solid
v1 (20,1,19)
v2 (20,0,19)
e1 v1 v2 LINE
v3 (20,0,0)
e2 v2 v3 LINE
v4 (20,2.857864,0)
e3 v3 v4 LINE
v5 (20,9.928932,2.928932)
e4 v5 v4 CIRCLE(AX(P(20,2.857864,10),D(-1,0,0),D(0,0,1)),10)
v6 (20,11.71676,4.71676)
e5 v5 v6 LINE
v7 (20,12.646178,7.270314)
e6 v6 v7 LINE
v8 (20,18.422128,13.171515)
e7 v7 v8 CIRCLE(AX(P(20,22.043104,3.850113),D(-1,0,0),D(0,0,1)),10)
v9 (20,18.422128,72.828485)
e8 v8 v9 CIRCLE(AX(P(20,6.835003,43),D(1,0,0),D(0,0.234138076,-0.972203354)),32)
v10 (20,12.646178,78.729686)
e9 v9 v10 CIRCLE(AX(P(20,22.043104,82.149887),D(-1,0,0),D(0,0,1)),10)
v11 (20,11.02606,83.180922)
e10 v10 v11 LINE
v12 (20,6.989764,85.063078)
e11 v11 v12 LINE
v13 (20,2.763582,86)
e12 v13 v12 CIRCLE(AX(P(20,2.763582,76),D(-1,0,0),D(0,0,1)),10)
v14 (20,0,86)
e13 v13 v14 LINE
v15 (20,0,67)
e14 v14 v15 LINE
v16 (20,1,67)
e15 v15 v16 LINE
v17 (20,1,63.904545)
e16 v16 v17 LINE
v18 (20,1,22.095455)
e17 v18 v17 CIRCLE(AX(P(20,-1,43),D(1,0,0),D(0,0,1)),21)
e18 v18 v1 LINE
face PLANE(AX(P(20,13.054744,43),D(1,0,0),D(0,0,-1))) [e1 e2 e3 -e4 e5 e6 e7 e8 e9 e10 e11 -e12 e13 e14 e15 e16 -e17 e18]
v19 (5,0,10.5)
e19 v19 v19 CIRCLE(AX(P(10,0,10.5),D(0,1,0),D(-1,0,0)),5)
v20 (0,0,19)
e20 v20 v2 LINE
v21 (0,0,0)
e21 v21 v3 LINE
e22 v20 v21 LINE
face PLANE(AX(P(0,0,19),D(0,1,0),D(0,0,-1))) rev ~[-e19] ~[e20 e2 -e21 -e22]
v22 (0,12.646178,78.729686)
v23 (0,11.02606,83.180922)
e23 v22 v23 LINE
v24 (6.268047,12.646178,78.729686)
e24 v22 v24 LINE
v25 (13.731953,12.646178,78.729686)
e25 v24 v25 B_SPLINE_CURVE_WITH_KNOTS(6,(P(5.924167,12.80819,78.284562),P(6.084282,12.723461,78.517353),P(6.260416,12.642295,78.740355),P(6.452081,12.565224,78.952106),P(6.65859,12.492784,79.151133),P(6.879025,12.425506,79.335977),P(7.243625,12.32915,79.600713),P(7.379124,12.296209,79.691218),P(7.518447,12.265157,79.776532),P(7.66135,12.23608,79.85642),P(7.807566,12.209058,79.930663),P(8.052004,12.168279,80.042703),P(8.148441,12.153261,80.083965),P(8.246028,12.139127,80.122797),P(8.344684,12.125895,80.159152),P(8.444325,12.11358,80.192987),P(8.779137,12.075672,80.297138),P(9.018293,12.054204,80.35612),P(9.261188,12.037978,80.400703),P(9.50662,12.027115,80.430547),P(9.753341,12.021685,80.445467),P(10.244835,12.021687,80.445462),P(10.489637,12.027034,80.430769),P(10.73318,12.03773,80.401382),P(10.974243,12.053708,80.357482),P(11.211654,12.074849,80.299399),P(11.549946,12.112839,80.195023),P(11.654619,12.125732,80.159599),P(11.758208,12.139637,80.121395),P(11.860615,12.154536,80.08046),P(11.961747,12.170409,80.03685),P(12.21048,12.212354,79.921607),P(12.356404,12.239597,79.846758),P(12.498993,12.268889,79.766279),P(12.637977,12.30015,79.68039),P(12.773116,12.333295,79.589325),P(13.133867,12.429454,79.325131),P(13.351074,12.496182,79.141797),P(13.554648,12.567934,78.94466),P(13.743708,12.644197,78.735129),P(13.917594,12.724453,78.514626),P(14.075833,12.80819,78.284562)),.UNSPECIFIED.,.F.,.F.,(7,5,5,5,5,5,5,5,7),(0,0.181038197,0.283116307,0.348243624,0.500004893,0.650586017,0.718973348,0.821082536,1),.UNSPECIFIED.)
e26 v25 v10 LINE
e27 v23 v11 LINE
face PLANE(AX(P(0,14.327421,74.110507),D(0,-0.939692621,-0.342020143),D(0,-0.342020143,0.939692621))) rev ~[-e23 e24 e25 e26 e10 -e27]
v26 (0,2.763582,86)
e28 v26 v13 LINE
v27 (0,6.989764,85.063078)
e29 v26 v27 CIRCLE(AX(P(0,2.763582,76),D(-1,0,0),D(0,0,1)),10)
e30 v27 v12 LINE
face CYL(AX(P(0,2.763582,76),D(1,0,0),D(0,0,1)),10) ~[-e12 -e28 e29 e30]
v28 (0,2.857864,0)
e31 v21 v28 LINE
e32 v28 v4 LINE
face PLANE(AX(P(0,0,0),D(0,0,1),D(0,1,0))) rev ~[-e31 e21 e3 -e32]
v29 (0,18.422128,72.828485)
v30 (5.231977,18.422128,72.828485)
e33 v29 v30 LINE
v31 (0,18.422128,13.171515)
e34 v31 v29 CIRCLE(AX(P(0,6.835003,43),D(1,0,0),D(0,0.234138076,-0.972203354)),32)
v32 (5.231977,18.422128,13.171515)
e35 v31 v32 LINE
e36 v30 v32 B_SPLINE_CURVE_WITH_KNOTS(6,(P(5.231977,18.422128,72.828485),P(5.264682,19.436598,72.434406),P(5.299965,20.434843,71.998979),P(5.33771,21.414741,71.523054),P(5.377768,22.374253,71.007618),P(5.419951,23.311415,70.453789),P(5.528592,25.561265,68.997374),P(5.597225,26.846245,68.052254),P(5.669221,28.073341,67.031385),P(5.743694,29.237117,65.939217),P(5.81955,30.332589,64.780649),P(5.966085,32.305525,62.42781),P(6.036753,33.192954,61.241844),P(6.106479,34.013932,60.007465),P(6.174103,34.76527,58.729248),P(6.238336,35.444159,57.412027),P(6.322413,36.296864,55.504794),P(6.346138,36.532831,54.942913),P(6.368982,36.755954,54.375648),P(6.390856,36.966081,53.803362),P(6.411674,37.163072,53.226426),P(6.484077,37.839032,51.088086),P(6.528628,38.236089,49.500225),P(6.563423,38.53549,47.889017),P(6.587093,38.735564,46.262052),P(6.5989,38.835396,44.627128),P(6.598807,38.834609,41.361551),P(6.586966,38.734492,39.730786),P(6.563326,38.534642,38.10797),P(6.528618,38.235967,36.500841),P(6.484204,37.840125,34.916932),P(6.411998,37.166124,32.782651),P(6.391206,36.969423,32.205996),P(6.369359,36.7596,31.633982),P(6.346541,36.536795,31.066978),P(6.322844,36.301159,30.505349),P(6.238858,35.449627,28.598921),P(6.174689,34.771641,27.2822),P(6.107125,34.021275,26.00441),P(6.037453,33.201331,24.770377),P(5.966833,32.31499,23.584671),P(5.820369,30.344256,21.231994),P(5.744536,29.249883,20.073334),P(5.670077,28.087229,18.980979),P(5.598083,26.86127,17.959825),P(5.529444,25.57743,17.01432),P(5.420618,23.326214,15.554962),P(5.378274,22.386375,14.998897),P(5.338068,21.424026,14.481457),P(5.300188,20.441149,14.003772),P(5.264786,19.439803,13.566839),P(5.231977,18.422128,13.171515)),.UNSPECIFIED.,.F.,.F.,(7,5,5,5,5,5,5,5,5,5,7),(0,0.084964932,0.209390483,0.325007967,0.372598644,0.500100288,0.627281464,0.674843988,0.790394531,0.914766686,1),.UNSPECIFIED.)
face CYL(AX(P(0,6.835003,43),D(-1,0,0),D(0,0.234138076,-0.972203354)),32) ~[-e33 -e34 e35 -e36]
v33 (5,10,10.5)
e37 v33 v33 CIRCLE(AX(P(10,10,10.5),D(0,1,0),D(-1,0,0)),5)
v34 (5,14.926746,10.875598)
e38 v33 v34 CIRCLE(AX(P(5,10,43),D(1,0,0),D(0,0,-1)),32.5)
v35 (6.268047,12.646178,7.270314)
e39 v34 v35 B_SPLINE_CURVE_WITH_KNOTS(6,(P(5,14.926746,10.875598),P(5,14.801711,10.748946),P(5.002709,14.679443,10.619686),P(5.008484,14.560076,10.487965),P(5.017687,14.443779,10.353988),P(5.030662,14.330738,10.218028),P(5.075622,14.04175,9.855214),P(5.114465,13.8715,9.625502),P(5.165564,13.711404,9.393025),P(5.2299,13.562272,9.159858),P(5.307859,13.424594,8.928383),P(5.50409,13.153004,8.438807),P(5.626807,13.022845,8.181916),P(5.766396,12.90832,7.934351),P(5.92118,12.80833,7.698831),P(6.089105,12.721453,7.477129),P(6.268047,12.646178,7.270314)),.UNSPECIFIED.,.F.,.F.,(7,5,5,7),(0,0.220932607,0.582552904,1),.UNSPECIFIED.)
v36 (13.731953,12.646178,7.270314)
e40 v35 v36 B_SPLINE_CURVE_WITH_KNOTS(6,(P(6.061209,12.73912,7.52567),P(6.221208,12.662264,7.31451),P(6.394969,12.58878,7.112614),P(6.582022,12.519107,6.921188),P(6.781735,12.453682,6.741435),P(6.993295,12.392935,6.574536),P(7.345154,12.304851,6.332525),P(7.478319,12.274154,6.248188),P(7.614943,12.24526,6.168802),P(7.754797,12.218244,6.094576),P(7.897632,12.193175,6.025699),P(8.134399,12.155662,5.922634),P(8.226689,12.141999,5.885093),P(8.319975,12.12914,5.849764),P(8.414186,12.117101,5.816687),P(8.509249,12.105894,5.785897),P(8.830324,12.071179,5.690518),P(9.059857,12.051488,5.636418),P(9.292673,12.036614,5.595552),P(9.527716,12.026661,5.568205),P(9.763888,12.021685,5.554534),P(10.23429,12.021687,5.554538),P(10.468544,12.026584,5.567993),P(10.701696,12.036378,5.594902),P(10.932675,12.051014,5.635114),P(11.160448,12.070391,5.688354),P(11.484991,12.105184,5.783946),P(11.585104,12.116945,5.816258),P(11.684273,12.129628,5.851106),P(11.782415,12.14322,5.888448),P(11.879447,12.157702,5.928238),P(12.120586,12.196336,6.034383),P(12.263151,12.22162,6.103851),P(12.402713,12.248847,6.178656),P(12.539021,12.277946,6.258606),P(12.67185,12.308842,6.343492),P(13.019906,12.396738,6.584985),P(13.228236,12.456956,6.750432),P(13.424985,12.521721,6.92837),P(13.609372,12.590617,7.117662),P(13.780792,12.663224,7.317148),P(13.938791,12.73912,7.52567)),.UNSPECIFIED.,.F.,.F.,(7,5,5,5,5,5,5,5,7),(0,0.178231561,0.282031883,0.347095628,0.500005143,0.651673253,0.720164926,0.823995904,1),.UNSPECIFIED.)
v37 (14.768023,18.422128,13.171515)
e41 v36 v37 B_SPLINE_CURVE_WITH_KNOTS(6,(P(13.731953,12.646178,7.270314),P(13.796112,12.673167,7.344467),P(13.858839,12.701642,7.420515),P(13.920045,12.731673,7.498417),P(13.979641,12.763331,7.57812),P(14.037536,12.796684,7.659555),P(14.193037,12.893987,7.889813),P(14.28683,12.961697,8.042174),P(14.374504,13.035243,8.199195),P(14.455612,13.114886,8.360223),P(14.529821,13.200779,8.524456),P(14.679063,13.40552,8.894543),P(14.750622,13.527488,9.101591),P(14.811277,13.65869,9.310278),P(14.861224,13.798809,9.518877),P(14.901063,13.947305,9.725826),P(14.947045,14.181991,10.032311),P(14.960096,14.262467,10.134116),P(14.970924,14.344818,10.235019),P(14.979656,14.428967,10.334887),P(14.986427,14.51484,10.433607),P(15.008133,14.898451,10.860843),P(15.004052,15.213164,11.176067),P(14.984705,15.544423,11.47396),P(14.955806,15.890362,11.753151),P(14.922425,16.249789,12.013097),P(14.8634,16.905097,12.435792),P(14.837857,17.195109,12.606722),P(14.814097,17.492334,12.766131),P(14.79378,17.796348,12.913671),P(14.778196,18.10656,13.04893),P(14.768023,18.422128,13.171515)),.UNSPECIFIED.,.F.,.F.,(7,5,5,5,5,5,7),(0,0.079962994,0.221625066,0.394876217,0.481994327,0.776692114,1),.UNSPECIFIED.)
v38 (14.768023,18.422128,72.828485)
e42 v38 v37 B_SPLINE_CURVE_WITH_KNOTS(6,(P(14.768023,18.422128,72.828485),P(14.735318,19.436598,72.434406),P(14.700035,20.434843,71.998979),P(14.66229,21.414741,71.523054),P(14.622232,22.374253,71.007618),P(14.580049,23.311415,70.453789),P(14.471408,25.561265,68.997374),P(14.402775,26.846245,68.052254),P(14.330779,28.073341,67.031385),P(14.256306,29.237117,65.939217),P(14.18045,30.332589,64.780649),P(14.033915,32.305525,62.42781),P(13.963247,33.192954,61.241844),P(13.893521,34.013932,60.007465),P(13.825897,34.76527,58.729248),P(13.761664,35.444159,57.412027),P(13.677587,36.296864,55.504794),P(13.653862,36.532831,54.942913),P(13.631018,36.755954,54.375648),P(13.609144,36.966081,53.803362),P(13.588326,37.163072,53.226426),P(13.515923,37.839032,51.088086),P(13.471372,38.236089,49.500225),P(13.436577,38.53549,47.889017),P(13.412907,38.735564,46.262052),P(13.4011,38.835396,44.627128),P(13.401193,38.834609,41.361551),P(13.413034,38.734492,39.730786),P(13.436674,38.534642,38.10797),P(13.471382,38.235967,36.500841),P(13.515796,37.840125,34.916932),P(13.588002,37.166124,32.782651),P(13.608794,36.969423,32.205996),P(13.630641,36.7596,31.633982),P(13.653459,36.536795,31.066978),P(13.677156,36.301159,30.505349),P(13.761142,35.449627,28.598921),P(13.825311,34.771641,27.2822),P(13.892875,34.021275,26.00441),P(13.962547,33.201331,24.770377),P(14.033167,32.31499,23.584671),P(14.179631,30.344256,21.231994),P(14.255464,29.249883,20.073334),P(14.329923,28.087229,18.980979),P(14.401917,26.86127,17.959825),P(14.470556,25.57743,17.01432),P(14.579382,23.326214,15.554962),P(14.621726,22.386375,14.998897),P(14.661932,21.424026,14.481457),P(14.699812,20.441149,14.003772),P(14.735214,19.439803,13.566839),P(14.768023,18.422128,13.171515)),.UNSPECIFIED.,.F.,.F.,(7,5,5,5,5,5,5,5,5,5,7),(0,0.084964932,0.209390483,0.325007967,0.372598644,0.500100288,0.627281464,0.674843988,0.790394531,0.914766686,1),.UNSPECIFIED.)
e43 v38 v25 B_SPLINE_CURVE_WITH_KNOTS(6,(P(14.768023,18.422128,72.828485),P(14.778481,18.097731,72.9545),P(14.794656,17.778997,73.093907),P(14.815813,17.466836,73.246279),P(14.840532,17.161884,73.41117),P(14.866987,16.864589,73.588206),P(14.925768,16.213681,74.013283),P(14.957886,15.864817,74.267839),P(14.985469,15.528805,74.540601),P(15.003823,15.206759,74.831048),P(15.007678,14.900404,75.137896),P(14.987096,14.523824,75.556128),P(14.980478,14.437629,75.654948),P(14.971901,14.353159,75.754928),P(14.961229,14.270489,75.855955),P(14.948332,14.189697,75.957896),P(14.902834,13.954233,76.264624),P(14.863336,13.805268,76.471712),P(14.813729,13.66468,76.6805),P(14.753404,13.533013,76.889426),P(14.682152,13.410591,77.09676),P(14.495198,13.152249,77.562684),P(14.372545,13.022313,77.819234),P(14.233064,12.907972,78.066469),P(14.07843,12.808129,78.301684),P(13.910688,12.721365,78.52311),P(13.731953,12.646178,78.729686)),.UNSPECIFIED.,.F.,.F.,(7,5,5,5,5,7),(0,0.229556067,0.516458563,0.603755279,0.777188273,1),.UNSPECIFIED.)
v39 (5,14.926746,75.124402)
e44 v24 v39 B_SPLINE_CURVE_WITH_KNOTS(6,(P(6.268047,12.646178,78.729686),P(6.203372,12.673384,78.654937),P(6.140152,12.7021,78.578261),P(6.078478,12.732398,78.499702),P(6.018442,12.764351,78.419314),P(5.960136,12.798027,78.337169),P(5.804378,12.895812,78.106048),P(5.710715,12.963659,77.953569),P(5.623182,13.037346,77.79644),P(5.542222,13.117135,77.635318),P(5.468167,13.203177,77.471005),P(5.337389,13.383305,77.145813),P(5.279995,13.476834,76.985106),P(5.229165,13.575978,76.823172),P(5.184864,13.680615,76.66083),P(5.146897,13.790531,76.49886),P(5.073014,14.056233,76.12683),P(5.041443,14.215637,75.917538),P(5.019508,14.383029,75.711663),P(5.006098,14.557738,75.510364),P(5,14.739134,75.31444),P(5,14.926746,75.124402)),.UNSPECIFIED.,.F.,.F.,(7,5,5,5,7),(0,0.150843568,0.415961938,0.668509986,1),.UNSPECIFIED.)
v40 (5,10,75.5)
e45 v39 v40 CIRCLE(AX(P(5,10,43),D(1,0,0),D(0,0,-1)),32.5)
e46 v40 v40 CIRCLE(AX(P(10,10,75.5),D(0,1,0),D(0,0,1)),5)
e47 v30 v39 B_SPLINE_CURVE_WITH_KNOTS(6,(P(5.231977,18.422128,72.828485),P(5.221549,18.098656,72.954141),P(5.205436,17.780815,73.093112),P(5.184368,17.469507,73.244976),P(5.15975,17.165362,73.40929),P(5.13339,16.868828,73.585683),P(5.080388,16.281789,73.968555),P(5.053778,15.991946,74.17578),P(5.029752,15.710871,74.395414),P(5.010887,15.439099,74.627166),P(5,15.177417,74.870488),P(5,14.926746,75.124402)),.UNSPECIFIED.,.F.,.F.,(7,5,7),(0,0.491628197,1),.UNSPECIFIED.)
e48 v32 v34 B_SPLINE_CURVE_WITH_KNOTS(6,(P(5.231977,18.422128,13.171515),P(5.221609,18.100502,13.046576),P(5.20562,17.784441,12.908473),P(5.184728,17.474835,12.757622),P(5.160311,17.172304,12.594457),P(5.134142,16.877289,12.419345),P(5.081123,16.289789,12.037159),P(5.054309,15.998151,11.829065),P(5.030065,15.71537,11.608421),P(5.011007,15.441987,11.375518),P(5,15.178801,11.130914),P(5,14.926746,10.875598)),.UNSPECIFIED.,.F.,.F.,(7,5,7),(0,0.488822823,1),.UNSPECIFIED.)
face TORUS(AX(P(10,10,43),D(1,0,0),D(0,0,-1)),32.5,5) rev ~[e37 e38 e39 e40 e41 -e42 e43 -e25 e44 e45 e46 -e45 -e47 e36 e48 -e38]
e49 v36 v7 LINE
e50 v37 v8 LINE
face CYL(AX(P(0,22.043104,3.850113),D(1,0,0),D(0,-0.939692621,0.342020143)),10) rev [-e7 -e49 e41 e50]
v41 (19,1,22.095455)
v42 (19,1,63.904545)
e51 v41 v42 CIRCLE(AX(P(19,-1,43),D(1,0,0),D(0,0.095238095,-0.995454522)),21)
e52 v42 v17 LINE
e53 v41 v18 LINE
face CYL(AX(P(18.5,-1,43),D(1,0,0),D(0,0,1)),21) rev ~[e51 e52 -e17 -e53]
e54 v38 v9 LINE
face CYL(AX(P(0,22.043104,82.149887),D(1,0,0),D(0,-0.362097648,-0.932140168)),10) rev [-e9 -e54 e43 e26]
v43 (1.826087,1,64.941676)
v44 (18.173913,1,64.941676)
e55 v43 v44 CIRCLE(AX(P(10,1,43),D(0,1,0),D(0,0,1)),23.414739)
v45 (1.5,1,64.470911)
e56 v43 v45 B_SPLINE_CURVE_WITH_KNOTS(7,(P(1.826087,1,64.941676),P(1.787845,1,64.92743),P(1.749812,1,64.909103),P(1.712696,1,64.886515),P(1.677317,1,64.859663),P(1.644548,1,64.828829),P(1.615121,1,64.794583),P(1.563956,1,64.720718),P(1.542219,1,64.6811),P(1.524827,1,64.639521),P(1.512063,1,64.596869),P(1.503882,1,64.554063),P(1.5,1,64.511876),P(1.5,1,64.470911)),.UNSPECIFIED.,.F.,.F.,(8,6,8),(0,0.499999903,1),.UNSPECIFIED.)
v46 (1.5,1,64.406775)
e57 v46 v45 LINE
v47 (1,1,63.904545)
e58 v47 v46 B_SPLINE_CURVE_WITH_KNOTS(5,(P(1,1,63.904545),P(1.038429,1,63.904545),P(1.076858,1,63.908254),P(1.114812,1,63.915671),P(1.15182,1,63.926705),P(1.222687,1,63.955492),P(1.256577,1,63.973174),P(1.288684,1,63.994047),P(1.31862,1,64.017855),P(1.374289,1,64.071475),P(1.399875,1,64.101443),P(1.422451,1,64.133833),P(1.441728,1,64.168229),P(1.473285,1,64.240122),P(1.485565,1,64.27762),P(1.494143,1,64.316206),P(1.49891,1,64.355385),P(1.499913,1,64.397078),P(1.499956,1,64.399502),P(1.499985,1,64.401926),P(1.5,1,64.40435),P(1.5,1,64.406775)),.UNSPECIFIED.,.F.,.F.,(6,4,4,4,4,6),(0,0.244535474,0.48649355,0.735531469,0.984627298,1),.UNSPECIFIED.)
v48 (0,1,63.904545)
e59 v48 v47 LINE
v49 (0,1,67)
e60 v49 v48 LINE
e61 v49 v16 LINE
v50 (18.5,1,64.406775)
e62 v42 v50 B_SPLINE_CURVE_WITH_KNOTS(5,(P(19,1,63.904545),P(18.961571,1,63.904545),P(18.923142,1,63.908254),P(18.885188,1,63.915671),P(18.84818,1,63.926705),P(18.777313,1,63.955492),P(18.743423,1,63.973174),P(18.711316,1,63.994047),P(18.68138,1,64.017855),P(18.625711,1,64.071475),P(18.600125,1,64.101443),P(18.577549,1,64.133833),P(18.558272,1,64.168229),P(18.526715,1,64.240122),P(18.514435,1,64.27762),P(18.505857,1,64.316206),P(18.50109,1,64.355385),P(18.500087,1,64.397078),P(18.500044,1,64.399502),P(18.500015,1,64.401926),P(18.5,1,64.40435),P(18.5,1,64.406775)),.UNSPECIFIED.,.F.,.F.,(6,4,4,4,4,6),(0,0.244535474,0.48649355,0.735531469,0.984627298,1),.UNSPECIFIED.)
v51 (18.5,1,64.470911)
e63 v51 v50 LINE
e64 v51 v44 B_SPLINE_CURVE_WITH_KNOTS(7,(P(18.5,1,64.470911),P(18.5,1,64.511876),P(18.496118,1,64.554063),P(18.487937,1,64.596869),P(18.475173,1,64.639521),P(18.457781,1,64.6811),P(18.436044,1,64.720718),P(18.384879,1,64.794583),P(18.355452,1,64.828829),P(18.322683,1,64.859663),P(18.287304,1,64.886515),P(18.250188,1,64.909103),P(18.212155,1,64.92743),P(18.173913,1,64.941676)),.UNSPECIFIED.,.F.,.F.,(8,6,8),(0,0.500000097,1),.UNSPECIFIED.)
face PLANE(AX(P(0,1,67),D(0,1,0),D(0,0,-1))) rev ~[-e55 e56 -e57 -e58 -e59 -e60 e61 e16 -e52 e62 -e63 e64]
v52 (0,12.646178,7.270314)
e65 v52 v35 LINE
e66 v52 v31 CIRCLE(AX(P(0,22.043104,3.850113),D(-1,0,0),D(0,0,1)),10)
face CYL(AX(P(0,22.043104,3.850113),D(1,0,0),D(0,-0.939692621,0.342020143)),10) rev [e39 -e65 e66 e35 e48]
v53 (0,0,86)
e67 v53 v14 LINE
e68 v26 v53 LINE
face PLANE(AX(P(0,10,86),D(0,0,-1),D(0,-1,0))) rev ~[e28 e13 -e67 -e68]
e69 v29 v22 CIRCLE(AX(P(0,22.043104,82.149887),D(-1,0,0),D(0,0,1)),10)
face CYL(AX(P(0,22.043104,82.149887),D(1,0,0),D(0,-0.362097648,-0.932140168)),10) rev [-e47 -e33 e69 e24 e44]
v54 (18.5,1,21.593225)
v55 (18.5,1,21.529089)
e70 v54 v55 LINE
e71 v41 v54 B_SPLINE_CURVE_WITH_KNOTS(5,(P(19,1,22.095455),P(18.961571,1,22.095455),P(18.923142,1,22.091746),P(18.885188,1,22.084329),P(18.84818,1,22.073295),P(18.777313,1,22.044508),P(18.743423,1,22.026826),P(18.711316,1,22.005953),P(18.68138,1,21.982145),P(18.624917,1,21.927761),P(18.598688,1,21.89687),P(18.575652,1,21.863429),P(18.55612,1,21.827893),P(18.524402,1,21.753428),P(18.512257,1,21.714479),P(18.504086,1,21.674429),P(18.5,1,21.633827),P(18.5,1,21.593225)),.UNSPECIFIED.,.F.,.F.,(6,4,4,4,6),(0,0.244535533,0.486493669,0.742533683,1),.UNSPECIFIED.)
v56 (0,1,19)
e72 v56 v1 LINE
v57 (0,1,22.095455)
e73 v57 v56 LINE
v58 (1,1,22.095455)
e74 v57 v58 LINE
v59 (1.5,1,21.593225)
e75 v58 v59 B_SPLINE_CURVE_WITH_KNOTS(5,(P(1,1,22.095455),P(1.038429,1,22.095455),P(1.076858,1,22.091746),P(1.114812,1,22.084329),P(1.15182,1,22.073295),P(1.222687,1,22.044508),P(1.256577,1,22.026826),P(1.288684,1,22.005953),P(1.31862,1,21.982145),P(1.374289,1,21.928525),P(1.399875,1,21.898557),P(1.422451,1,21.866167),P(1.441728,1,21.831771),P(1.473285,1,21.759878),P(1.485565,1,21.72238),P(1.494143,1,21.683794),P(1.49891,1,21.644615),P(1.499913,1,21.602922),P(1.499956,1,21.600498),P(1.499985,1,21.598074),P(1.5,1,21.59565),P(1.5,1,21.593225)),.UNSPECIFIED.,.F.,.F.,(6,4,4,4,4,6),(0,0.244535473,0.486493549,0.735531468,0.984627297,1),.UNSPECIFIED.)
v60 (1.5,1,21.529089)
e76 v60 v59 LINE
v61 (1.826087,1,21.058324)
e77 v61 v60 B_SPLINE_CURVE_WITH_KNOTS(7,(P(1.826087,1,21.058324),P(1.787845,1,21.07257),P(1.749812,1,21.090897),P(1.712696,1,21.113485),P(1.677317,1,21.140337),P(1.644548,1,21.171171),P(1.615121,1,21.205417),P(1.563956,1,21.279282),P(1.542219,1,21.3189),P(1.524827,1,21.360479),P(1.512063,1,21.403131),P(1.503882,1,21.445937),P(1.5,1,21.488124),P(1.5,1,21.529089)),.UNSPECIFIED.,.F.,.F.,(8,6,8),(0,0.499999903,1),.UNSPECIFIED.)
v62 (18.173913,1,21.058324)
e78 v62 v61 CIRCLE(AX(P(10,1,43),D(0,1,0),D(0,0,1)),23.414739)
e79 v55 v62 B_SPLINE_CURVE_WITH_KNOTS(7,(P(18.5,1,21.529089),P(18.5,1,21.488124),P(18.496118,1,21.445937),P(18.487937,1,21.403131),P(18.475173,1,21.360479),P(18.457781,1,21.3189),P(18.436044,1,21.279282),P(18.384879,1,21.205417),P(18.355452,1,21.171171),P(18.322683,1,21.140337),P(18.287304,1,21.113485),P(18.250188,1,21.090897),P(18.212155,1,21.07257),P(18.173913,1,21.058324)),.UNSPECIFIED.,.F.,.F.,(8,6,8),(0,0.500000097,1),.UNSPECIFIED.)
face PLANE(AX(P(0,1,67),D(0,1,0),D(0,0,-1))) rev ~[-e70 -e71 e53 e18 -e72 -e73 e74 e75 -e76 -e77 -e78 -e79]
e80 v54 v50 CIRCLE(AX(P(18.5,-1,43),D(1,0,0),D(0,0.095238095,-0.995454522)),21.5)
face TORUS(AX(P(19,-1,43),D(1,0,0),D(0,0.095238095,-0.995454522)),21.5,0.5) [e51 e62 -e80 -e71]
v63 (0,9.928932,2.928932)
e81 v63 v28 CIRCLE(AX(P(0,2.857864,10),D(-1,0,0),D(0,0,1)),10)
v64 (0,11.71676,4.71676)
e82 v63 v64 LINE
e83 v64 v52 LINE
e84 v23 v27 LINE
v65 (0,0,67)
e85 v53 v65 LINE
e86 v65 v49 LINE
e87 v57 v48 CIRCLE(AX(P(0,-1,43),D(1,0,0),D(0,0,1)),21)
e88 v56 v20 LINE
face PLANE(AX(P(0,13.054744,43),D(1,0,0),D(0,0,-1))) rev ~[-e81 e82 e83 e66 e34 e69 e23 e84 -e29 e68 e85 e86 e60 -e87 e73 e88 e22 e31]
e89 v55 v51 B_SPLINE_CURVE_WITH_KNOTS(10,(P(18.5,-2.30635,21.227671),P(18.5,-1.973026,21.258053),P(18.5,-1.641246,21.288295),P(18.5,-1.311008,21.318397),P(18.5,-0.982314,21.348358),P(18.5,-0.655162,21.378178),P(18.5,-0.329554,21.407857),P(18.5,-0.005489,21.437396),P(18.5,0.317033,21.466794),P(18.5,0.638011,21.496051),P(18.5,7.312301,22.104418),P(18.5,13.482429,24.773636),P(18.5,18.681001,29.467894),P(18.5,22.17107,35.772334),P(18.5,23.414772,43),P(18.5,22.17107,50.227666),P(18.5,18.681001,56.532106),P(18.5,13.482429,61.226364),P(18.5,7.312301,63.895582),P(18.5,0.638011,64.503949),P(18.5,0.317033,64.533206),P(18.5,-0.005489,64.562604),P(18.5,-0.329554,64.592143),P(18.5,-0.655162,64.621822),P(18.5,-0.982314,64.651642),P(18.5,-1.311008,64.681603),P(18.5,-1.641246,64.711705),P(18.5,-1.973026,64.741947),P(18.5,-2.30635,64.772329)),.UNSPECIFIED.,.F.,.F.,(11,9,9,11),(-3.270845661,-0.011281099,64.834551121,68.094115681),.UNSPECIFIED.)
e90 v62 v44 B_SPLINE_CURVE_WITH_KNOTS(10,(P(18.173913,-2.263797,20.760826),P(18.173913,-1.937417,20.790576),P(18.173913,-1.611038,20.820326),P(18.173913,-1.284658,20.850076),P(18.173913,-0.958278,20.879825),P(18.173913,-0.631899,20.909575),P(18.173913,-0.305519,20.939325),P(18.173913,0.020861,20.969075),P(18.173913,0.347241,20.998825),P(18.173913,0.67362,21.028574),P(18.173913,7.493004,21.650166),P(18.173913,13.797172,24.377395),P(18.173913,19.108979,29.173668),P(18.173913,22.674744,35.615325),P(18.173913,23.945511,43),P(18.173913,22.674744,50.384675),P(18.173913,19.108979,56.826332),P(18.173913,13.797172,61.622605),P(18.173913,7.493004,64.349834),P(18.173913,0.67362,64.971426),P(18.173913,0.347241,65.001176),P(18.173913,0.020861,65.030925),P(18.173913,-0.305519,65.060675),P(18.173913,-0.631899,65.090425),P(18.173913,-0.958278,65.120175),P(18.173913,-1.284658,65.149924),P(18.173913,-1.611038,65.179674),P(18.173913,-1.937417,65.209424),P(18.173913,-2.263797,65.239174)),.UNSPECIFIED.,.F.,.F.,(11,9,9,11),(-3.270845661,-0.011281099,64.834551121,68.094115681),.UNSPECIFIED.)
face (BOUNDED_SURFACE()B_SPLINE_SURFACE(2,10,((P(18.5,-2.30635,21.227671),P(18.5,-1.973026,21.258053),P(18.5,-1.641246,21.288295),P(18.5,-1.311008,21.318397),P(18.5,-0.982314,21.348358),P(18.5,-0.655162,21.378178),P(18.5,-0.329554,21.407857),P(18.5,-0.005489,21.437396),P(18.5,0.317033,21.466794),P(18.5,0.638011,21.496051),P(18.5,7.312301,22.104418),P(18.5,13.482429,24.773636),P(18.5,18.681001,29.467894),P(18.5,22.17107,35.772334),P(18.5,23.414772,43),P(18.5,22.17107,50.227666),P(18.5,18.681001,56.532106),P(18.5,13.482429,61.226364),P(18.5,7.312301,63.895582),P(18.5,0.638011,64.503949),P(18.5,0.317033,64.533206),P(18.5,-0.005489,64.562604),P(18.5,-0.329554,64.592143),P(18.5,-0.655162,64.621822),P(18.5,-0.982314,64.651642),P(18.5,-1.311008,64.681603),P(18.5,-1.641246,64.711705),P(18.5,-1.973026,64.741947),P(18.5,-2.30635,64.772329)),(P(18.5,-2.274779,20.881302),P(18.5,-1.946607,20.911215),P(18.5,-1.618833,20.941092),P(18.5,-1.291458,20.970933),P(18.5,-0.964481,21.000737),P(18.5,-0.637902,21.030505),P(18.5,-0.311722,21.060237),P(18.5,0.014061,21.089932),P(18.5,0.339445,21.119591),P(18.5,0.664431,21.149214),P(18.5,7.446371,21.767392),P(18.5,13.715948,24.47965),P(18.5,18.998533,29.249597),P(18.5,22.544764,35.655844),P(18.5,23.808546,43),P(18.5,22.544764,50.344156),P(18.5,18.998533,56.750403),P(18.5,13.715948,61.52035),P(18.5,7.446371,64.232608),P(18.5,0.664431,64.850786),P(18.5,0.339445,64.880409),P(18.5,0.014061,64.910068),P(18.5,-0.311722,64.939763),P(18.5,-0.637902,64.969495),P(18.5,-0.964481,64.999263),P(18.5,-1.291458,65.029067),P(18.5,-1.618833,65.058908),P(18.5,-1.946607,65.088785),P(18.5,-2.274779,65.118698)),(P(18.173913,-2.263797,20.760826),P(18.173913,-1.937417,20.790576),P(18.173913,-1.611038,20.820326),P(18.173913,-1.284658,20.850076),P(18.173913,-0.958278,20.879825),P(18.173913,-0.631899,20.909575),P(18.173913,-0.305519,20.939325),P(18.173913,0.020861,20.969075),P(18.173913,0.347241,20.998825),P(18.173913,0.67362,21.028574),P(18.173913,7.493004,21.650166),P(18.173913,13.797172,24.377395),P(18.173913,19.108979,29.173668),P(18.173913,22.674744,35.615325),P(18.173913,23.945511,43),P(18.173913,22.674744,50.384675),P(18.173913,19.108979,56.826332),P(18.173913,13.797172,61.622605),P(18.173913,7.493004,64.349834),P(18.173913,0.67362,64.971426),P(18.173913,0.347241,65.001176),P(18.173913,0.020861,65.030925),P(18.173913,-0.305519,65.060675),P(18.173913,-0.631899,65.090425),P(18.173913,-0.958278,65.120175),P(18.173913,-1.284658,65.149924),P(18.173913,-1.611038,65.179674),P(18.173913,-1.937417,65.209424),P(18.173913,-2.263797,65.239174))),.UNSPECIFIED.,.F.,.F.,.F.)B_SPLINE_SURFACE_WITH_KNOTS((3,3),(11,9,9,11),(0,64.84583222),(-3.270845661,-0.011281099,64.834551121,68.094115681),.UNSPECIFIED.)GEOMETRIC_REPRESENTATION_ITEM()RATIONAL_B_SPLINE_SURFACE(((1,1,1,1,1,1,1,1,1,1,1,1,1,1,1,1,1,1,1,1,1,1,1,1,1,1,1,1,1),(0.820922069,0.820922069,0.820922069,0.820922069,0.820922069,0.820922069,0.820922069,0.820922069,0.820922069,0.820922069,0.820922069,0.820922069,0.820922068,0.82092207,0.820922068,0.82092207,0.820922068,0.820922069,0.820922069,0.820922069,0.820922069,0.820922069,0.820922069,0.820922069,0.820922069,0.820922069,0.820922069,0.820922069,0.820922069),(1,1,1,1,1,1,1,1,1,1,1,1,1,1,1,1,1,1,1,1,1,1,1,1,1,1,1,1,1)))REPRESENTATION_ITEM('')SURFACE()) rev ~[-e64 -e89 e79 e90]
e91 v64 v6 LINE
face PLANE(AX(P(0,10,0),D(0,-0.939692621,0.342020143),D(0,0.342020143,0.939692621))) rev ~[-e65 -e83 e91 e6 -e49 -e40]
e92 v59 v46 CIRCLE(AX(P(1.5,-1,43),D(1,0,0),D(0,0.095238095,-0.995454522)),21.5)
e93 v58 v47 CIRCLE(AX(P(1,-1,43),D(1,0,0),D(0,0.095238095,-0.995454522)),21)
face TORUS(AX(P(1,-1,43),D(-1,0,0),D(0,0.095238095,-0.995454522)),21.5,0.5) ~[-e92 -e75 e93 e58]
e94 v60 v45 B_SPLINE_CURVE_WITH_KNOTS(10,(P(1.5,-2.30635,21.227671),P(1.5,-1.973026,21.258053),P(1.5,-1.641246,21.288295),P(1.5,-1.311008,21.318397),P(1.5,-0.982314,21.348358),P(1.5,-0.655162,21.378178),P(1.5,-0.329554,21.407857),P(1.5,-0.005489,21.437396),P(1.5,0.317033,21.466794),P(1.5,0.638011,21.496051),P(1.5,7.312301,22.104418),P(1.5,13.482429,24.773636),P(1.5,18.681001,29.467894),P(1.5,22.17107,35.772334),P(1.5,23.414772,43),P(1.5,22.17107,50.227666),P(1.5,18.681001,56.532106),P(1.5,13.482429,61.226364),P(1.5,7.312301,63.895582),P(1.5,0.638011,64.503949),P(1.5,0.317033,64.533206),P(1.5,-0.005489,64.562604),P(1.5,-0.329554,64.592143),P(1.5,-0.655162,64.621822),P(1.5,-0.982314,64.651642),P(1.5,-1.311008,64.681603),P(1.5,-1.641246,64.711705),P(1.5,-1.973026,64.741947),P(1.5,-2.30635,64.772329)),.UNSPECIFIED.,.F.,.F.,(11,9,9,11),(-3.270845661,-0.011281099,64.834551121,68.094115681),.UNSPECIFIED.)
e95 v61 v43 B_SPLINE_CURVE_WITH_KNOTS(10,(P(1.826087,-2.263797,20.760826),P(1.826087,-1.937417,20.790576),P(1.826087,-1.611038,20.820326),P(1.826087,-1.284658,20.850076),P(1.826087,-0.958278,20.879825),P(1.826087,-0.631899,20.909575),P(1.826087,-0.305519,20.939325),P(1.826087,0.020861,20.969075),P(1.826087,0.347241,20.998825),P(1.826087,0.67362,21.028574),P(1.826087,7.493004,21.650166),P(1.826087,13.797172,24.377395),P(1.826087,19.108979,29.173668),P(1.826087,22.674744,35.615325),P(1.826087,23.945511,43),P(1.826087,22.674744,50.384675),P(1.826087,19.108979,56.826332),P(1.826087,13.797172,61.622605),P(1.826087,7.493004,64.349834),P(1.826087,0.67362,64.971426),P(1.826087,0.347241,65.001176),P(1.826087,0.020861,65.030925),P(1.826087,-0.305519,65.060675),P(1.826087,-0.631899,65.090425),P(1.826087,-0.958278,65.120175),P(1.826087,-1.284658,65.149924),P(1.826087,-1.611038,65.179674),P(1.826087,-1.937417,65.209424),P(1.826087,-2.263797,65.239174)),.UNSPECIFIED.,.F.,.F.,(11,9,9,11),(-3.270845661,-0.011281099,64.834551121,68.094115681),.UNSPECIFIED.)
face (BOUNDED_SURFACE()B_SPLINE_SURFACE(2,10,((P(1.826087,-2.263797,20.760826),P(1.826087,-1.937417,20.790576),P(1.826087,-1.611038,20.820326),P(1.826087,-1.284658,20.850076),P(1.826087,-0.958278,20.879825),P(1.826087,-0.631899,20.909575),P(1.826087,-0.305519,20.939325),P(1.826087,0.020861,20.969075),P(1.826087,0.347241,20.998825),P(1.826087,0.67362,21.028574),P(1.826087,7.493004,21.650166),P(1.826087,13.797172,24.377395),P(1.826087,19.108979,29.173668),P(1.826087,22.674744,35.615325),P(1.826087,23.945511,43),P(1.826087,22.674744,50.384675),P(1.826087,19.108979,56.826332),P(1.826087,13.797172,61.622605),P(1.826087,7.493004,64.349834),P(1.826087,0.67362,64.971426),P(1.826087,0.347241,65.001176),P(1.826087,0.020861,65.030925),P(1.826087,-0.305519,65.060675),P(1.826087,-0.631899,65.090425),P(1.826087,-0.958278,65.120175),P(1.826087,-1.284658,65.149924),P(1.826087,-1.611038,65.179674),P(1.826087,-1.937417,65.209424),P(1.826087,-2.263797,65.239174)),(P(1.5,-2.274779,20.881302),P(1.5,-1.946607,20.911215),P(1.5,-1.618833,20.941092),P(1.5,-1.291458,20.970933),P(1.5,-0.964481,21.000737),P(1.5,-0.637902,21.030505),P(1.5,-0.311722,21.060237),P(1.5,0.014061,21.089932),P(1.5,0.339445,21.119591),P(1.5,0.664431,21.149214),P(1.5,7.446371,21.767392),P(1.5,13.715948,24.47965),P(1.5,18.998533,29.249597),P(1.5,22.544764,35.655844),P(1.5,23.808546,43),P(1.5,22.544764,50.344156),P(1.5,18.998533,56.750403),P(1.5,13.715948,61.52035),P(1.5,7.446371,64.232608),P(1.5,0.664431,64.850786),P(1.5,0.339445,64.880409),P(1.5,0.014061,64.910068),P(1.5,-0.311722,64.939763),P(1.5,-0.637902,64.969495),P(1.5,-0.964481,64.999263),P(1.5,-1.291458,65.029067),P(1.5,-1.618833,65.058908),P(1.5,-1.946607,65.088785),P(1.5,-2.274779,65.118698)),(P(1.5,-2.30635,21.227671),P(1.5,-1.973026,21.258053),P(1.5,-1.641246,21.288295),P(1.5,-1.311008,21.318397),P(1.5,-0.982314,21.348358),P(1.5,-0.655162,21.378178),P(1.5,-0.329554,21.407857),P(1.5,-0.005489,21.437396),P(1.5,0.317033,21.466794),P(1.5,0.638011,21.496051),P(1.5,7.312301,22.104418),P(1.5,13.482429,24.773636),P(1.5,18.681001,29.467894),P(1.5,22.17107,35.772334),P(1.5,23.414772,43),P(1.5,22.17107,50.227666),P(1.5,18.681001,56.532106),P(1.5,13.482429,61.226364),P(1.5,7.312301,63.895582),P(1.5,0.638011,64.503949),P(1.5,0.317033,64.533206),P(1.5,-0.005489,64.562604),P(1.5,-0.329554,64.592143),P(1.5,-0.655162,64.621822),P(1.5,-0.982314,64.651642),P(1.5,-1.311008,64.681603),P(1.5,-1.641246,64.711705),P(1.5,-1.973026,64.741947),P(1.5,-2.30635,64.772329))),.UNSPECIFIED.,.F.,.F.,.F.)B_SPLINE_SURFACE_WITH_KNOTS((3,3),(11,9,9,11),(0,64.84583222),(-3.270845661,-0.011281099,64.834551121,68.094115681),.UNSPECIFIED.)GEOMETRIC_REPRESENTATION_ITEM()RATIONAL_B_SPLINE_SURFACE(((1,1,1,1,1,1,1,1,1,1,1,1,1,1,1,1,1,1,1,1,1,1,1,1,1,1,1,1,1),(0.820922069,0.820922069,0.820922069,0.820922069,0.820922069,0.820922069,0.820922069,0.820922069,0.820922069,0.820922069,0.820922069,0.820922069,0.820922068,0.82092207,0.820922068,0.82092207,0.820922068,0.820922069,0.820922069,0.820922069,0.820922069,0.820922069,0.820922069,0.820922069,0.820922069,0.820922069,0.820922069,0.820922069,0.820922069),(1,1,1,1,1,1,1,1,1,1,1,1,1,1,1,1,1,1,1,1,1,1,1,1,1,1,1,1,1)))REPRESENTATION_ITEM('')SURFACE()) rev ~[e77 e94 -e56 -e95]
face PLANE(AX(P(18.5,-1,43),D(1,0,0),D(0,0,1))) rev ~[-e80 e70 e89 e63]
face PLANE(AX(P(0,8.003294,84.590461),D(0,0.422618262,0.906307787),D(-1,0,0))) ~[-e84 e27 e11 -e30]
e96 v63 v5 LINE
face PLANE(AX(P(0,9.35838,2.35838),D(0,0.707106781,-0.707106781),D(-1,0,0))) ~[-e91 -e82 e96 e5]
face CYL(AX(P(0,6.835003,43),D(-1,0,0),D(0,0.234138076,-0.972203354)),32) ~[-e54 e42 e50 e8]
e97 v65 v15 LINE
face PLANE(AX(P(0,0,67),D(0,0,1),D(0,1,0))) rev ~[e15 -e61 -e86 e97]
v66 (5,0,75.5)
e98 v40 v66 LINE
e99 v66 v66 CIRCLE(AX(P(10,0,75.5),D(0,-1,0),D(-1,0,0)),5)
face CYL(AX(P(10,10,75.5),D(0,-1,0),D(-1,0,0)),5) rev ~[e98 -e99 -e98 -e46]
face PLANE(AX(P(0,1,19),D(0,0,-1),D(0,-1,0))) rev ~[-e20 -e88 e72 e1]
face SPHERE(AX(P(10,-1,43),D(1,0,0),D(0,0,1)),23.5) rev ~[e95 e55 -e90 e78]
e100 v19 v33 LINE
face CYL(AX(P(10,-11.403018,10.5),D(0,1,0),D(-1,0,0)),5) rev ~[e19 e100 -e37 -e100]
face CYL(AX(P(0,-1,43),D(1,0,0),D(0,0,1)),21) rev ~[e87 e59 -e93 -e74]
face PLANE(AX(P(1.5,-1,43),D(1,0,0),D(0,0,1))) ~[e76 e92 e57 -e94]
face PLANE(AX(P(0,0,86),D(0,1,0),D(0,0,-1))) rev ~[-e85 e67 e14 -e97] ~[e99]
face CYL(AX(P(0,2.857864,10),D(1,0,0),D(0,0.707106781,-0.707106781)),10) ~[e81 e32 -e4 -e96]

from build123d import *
from OCP.BRepFilletAPI import BRepFilletAPI_MakeChamfer

# Parameters (mm, degrees)
BOSS_EXTRUDE1_DEPTH = 20
FILLET1_R           = 10
CHAMFER1_SIZE       = 3
CHAMFER1_SIZE2      = 5.019471555
SKETCH5_R           = 5
FILLET4_R           = 10
FILLET5_R           = 0.5


with BuildPart() as part:
    # Sketch1 → Boss-Extrude1 (new body)
    with BuildSketch(Plane(origin=(0, 0, 0), x_dir=(0, 0, -1), z_dir=(1, 0, 0))):
        with BuildLine():
            Line((-86, 0), (-67, 0))
            Line((-67, 0), (-67, 1))
            Line((-67, 1), (-19, 1))
            Line((-19, 1), (-19, 0))
            Line((-19, 0), (0, 0))
            Line((0, 0), (0, 10))
            Line((0, 10), (-11.889492676, 14.327421434))
            ThreePointArc((-11.889492676, 14.327421434), (-43, 38.835002999), (-74.110507324, 14.327421434))
            Line((-74.110507324, 14.327421434), (-86, 10))
            Line((-86, 10), (-86, 0))
        make_face()
    extrude(amount=BOSS_EXTRUDE1_DEPTH)

    # Fillet1
    fillet1_edges = [part.edges().sort_by_distance(p)[0] for p in [
        (10, 14.327421434, 74.110507324),
        (10, 14.327421434, 11.889492676),
    ]]
    fillet(fillet1_edges, radius=FILLET1_R)

    # Chamfer1: one chamfer whose edges measure the first distance from different faces: ONE call of the kernel's chamfer builder (chamfer() names one face for all edges)
    chamfer1_edges_1 = [part.edges().sort_by_distance(p)[0] for p in [
        (10, 10, 86),
    ]]
    chamfer1_side_1 = [part.faces().sort_by_distance(p)[0] for p in [
        (10, 11.323089013, 82.364842814),
    ]]
    chamfer1_edges_2 = [part.edges().sort_by_distance(p)[0] for p in [
        (10, 10, 0),
    ]]
    chamfer1_side_2 = [part.faces().sort_by_distance(p)[0] for p in [
        (10, 5, 0),
    ]]
    chamfer1 = BRepFilletAPI_MakeChamfer(part.part.solid().wrapped)
    for e in chamfer1_edges_1:
        chamfer1.Add(CHAMFER1_SIZE, CHAMFER1_SIZE2, e.wrapped, chamfer1_side_1[0].wrapped)  # the first distance lies on this face
    for e in chamfer1_edges_2:
        chamfer1.Add(CHAMFER1_SIZE, CHAMFER1_SIZE2, e.wrapped, chamfer1_side_2[0].wrapped)  # the first distance lies on this face
    add(Compound.cast(chamfer1.Shape()), mode=Mode.REPLACE)

    # augu cut: sweep along a path in Sketch2
    with BuildLine(Plane(origin=(10, 0, 0), x_dir=(0, 0, -1), z_dir=(1, 0, 0))) as augu_cut_path:
        Line((-10.5, -11.403017839), (-10.5, 10))
        ThreePointArc((-10.5, 10), (-43, 42.5), (-75.5, 10))
        Line((-75.5, 10), (-75.5, -11.403017839))
    # Sketch5 → augu cut (sweep, cut)
    with BuildSketch(Plane(origin=(0, -11.403017839, 0), x_dir=(-1, 0, 0), z_dir=(0, -1, 0))):
        with Locations((-10, -10.5)):
            Circle(SKETCH5_R)
    sweep(path=augu_cut_path.line, mode=Mode.SUBTRACT)

    # Sketch6 → Cut-Revolve2 (revolve, cut)
    with BuildSketch(Plane.XZ.offset(1)):
        with BuildLine():
            Line((0, 64), (1.5, 64))
            Line((1.5, 64), (1.5, 64.9089023))
            ThreePointArc((1.5, 64.9089023), (10, 66.5), (18.5, 64.9089023))
            Line((18.5, 64.9089023), (18.5, 64))
            Line((18.5, 64), (20, 64))
            Line((20, 64), (20, 43))
            Line((20, 43), (0, 43))
            Line((0, 43), (0, 64))
        make_face()
    revolve(axis=Axis((0, -1, 43), (1, 0, 0)), mode=Mode.SUBTRACT)

    # Fillet4
    fillet4_edges = [part.edges().sort_by_distance(p)[0] for p in [
        (10, 7, 0),
        (10, 4.980528445, 86),
    ]]
    fillet(fillet4_edges, radius=FILLET4_R)

    # Fillet5
    fillet5_edges = [part.edges().sort_by_distance(p)[0] for p in [
        (1.5, 20.9089023, 43),
        (18.5, 20.9089023, 43),
        (18.5, 20, 43),
        (1.5, 20, 43),
    ]]
    fillet(fillet5_edges, radius=FILLET5_R)


solid = part.part
